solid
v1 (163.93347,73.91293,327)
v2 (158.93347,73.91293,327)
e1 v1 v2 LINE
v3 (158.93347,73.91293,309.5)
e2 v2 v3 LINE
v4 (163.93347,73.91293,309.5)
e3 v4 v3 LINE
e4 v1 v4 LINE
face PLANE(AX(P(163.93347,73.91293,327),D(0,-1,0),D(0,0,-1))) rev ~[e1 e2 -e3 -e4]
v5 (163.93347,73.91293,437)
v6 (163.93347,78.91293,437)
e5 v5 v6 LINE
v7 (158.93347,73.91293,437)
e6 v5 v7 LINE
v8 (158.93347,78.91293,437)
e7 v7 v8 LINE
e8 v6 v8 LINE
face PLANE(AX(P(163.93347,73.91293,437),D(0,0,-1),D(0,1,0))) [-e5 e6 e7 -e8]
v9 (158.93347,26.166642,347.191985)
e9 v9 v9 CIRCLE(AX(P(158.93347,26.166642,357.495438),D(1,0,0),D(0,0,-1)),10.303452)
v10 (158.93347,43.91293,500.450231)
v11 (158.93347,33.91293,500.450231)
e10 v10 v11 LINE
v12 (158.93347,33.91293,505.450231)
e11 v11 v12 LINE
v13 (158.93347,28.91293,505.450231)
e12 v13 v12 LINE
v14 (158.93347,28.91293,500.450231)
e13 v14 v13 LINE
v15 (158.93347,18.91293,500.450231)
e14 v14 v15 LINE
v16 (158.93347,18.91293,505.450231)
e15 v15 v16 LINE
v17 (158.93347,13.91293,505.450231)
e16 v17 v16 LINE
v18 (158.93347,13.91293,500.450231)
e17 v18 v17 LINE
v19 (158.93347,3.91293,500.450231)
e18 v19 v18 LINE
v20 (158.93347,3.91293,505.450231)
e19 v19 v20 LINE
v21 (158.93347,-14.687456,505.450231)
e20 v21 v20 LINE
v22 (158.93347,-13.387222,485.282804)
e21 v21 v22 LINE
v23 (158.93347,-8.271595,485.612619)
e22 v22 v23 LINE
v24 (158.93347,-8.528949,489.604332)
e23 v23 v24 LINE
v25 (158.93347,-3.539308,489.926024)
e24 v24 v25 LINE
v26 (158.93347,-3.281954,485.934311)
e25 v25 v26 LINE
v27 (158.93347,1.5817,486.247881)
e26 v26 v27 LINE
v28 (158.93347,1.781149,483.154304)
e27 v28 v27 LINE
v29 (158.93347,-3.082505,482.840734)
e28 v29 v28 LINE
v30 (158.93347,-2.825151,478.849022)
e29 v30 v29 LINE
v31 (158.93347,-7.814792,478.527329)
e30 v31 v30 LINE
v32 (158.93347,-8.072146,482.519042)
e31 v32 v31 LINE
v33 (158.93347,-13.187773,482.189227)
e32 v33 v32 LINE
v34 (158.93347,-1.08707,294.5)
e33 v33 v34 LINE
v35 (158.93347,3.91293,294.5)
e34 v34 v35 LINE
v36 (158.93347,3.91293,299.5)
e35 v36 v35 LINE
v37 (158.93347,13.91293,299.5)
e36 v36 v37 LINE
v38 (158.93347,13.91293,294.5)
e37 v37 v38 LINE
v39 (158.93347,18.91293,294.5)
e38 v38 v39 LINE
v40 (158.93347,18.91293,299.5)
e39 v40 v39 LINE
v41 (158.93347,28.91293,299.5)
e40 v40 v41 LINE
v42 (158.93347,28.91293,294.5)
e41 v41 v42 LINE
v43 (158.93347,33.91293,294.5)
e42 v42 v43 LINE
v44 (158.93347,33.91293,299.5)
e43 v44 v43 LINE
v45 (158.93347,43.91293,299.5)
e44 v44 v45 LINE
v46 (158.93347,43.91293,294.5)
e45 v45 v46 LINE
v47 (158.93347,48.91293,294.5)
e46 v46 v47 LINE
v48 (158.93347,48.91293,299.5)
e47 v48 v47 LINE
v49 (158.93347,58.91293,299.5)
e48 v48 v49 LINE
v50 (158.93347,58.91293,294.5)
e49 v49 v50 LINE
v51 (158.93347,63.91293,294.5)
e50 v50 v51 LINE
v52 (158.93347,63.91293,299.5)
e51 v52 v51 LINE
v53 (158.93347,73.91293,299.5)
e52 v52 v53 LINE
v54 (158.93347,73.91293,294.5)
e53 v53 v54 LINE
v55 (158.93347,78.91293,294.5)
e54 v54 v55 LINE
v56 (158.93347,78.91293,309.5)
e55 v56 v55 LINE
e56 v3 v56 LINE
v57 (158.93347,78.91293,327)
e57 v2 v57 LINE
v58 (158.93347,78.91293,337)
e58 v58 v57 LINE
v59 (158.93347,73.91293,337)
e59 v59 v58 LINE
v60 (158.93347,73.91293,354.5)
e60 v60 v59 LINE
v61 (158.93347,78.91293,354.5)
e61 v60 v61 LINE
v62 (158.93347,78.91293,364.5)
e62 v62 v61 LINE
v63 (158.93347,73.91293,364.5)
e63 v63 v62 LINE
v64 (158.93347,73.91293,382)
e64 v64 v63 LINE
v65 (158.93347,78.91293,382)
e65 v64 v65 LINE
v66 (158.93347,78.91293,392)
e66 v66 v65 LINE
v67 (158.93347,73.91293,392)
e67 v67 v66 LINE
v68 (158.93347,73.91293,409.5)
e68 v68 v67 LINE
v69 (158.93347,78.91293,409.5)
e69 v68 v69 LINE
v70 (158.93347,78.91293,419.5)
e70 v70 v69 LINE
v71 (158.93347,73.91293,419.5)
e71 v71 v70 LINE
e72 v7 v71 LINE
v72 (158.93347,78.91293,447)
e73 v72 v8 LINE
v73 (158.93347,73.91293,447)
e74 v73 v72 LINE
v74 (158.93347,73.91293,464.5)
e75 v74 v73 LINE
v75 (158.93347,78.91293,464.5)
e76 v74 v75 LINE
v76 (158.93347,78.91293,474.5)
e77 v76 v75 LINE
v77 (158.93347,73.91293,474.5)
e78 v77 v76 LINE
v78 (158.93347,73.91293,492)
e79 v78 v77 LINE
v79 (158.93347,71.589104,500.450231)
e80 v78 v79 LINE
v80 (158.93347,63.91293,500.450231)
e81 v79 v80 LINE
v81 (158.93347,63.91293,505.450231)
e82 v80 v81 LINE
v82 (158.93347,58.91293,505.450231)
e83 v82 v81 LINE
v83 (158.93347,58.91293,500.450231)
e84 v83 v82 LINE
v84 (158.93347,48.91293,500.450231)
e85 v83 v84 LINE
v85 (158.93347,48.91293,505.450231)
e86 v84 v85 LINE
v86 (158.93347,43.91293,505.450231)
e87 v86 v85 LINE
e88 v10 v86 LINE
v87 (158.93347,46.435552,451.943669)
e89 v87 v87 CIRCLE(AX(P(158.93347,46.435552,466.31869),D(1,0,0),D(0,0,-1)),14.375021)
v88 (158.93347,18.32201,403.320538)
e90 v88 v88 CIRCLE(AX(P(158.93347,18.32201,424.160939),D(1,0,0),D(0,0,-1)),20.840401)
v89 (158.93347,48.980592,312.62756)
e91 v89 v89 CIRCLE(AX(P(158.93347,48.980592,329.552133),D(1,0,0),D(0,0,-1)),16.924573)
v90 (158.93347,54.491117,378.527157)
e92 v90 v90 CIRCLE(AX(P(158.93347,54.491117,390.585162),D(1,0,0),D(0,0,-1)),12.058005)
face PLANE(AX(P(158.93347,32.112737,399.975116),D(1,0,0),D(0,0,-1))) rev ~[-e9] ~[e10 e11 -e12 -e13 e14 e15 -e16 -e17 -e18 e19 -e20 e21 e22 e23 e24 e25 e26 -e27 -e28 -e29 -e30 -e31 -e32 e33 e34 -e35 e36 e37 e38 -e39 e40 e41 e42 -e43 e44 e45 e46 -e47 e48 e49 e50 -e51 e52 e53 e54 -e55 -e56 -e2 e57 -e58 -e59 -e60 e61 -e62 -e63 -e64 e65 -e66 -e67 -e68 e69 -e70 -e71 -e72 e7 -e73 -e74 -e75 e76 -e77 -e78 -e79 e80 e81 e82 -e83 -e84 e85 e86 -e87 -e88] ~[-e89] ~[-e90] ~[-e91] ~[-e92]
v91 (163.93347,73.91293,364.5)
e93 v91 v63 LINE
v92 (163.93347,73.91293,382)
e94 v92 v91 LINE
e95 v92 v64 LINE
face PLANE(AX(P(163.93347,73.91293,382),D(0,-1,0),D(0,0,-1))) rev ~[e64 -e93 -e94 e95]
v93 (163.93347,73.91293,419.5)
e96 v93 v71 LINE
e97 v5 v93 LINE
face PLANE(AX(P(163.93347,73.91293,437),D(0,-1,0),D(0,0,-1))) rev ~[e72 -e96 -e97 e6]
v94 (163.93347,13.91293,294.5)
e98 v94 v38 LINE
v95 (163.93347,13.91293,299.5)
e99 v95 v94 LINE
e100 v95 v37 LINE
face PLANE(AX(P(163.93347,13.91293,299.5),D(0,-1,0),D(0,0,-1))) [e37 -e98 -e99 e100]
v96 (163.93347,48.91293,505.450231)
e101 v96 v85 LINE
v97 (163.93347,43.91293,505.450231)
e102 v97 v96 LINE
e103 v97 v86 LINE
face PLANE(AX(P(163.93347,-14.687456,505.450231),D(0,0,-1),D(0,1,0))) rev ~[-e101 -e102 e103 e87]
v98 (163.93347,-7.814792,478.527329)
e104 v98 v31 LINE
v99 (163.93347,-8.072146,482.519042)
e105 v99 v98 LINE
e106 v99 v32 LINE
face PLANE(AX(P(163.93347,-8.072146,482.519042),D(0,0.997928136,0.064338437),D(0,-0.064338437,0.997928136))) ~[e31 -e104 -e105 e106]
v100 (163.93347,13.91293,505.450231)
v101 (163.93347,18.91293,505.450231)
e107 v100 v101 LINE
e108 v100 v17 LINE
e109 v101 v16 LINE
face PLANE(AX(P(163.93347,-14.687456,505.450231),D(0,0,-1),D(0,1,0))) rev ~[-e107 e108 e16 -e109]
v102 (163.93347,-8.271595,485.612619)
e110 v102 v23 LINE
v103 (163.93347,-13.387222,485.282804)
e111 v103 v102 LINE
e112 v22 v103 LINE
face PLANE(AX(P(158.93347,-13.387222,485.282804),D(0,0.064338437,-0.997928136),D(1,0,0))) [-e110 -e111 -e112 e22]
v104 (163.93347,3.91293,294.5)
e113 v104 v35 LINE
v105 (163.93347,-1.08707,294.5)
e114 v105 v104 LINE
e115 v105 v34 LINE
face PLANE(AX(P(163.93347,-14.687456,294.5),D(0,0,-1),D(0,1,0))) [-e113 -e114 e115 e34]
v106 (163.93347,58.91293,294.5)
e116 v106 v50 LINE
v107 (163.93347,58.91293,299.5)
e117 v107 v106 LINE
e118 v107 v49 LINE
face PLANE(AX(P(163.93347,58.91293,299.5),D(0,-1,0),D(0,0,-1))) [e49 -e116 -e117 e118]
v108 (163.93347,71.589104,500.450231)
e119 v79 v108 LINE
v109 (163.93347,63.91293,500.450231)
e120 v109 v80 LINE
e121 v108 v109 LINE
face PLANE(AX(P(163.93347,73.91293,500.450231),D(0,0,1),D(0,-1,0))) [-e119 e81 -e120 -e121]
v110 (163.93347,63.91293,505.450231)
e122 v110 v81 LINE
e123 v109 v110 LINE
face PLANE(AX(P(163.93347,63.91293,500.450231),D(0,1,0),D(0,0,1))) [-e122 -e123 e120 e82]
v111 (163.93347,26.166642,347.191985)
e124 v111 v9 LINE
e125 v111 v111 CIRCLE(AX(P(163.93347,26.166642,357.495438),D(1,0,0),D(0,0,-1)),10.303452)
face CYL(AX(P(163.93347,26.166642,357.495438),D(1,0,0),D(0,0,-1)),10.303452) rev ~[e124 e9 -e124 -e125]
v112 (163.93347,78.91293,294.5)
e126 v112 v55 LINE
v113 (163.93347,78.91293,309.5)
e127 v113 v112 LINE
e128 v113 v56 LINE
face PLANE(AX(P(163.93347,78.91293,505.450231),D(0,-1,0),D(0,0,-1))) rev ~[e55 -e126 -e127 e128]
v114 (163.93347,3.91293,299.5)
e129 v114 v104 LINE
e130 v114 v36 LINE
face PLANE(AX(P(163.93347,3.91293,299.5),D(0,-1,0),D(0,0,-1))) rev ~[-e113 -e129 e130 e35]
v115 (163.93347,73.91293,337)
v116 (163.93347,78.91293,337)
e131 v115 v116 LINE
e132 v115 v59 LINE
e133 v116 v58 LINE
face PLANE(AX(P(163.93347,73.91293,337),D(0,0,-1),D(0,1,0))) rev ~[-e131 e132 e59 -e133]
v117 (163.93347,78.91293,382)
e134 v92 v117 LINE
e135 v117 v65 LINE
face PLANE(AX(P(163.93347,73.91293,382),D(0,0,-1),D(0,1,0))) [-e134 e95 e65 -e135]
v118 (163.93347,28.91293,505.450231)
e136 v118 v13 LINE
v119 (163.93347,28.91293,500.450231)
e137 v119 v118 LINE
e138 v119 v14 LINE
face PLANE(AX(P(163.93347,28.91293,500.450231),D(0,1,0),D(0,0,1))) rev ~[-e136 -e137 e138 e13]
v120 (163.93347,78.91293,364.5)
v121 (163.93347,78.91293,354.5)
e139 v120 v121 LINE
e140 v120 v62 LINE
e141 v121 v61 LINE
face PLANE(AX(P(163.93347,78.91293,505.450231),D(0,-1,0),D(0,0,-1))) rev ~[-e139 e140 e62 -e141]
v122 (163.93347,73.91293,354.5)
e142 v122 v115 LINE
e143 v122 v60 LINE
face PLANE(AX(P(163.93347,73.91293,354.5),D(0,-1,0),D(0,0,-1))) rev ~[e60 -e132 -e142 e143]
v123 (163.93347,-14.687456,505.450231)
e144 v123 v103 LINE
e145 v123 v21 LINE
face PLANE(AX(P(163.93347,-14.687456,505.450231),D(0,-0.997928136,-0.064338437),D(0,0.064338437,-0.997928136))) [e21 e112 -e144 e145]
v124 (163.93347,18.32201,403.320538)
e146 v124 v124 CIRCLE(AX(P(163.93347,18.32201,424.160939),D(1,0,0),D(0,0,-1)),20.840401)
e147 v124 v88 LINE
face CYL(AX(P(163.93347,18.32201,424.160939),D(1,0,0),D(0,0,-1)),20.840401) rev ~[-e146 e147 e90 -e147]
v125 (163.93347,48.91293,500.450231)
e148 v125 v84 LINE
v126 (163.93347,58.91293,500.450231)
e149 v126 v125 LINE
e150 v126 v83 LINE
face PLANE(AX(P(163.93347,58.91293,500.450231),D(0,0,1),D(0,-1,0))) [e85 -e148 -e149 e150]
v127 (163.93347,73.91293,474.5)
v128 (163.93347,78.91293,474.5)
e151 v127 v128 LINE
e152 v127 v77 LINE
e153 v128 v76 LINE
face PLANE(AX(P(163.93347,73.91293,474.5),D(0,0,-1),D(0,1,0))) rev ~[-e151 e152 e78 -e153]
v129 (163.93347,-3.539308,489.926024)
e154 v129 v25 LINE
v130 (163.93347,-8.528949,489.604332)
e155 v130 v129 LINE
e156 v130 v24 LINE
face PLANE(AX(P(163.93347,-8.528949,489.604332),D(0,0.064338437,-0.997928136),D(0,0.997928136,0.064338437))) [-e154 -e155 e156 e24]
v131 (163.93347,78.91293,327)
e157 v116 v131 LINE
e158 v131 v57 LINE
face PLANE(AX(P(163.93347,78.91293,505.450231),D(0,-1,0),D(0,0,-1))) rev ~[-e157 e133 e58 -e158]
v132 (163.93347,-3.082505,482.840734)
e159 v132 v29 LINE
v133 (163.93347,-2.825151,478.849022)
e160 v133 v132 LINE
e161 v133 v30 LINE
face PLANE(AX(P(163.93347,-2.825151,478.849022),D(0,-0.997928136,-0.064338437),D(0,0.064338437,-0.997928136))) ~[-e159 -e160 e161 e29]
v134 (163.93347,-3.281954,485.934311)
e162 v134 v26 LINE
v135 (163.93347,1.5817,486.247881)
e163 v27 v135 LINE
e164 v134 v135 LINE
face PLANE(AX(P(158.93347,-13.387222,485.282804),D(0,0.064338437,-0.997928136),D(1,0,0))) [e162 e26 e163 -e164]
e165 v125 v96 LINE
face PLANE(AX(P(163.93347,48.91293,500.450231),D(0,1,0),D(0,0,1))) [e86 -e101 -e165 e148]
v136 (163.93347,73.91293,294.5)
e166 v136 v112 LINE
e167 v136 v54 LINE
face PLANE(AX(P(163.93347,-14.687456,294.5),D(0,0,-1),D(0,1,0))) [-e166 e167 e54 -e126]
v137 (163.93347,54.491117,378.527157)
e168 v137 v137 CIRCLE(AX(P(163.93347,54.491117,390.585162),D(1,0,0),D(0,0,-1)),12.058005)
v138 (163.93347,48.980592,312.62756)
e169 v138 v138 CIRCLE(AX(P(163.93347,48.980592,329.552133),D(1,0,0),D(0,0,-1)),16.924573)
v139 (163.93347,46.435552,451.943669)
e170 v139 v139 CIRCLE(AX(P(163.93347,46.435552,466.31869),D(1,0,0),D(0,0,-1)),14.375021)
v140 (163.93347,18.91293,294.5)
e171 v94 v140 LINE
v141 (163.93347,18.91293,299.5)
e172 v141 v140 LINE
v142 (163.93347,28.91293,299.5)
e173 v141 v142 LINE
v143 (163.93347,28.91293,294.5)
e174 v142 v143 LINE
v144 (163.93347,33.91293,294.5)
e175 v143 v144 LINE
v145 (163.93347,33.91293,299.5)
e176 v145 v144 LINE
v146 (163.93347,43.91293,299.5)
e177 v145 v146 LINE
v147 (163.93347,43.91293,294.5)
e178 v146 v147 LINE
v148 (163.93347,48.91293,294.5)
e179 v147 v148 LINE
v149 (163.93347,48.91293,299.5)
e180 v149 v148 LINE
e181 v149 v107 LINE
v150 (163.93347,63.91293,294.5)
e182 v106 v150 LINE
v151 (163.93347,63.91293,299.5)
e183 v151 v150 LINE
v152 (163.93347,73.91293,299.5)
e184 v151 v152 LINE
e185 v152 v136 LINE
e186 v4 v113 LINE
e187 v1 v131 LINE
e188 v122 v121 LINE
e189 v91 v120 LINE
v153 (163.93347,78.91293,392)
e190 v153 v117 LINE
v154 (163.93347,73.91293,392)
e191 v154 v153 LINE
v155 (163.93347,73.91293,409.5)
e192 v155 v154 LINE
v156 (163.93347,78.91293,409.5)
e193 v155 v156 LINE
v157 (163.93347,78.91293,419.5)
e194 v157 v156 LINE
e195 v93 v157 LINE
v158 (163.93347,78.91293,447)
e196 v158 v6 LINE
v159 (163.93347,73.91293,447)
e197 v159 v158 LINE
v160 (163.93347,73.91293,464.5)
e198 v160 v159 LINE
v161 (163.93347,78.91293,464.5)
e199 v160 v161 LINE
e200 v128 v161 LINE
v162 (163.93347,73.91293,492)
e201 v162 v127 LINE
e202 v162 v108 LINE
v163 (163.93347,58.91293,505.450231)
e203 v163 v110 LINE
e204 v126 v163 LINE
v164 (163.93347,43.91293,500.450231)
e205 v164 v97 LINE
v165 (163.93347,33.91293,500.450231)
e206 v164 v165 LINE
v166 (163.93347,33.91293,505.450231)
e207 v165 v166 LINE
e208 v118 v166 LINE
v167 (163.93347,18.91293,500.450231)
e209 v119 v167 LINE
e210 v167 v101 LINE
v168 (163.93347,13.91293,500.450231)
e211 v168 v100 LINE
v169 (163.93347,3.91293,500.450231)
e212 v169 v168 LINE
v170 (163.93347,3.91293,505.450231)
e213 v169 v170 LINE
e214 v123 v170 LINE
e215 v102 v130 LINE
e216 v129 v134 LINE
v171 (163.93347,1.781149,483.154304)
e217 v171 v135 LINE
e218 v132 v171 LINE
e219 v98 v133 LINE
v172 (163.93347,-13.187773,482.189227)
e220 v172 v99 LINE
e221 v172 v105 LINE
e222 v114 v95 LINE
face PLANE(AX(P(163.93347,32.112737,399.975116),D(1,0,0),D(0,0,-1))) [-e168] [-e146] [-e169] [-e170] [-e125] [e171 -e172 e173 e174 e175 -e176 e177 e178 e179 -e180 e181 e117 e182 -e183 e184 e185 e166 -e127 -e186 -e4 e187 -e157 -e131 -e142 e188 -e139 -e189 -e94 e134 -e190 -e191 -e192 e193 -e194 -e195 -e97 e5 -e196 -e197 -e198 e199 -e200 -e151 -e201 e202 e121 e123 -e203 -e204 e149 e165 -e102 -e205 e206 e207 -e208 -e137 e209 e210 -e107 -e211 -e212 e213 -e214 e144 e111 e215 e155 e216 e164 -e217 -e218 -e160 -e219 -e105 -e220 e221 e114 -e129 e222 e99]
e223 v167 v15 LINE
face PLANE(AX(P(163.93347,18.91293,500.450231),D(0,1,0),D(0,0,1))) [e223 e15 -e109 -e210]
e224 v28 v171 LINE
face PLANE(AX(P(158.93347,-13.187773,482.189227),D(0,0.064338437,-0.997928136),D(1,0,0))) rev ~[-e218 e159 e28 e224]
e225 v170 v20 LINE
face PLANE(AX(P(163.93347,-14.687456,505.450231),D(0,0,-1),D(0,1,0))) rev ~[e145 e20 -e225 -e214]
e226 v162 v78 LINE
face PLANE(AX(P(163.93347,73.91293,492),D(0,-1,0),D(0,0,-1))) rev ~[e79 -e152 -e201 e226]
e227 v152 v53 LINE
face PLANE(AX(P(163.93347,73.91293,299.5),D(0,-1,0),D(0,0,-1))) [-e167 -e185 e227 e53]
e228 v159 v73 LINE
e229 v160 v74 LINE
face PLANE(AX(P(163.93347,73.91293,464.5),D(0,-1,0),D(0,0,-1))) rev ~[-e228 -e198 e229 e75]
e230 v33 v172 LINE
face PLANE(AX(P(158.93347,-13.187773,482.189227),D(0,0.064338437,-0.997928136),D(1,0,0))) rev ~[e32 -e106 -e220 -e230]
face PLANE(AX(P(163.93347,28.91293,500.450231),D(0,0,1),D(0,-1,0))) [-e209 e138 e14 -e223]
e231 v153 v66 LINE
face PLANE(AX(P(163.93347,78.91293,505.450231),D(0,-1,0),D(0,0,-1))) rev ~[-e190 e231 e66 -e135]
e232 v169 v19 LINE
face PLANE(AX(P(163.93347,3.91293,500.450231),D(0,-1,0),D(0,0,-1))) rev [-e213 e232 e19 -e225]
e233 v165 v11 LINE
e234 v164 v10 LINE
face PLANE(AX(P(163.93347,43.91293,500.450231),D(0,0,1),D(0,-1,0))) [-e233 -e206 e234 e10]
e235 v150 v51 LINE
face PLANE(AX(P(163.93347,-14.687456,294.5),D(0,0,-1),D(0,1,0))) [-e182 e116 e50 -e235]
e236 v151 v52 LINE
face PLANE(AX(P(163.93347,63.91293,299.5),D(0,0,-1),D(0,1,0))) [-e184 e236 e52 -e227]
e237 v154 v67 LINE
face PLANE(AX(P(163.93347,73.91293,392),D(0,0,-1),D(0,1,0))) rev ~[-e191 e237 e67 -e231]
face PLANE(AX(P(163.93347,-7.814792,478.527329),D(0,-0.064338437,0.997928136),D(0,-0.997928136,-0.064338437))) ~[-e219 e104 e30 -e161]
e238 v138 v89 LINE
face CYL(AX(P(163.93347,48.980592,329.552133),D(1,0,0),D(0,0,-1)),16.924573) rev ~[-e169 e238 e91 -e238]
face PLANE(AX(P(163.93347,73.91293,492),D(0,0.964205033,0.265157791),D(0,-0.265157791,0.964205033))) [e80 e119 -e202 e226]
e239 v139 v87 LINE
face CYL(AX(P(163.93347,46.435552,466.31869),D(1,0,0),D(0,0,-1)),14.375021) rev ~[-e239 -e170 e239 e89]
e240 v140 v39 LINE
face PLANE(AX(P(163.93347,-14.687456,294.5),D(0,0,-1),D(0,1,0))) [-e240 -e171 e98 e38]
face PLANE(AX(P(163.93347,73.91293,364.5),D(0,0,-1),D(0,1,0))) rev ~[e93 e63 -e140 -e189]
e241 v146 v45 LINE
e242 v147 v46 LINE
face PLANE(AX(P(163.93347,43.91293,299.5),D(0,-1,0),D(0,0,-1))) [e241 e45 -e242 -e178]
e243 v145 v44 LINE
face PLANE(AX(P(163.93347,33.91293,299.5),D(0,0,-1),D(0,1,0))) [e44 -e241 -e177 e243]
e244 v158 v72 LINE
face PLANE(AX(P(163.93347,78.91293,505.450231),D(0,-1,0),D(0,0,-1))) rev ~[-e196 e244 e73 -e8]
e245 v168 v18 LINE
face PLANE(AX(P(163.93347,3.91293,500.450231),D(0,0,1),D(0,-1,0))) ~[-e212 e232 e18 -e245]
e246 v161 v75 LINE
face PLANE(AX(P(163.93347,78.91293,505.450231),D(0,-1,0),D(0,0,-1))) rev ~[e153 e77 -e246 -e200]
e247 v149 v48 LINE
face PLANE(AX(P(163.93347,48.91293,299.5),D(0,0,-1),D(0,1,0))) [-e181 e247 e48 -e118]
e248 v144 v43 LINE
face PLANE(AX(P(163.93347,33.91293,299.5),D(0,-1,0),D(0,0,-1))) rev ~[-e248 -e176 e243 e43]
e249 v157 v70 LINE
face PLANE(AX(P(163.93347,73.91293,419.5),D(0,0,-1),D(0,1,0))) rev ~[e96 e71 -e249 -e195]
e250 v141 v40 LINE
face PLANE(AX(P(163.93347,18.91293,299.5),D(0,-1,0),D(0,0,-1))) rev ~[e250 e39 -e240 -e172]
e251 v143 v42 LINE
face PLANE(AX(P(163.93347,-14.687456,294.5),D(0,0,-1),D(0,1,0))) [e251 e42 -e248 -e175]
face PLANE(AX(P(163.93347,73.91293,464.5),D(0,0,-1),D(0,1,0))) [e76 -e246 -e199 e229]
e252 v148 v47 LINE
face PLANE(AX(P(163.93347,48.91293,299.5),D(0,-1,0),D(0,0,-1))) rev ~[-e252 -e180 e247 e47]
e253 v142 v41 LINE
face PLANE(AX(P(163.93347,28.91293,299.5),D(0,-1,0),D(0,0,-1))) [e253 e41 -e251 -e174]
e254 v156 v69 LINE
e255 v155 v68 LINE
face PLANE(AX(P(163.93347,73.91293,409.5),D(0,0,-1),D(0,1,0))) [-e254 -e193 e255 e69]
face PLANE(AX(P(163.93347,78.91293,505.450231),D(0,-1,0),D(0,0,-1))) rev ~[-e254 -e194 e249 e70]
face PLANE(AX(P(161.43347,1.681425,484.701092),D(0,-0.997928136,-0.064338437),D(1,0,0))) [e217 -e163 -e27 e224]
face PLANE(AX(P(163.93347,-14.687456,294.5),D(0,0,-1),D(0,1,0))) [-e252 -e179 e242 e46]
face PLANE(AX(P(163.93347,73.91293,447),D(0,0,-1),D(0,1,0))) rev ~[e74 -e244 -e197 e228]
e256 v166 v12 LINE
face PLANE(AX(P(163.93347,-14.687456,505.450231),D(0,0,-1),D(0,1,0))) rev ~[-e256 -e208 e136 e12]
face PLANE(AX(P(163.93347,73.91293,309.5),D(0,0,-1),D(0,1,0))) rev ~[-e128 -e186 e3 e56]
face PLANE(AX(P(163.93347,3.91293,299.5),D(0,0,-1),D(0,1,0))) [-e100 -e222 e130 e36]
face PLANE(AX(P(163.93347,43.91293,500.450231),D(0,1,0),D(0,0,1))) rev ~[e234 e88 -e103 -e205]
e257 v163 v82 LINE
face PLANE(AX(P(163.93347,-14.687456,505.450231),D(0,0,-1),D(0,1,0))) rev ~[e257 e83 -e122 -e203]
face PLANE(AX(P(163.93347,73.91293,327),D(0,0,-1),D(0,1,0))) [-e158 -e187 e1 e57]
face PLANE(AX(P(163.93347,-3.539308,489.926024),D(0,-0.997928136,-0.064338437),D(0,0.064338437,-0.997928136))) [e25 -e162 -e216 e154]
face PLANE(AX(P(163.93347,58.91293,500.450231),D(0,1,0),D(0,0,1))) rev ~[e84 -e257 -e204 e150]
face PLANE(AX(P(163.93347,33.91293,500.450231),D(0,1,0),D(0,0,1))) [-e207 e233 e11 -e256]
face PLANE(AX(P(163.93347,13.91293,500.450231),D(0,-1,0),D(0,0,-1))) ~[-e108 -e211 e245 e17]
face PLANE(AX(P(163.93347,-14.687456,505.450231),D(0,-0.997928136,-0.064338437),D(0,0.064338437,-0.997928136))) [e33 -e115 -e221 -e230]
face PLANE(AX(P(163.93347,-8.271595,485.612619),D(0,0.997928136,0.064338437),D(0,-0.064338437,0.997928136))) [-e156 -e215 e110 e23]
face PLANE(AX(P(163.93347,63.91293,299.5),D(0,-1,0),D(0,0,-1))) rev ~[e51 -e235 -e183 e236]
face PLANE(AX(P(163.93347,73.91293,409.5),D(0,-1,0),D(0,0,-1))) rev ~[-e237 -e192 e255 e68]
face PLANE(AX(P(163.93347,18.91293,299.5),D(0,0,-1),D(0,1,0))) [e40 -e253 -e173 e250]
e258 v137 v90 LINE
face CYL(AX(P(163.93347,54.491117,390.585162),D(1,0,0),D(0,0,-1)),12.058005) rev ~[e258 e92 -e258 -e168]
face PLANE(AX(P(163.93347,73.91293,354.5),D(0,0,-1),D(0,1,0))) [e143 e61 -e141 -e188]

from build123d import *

# Parameters (mm, degrees)
ESQUISSE1_W                = 210.950231097
ESQUISSE1_H                = 93.600386247
BOSS_EXTRU_1_DEPTH         = 5
ENL_V_MAT_EXTRU_1_DEPTH    = 5
ESQUISSE4_W                = 5
ESQUISSE4_H                = 10
ENL_V_MAT_EXTRU_2_DEPTH    = 5
R_P_TITION_LIN_AIRE1_COUNT = 5
R_P_TITION_LIN_AIRE1_PITCH = 15
ESQUISSE5_W                = 17.5
ESQUISSE5_H                = 5
ENL_V_MAT_EXTRU_3_DEPTH    = 5
R_P_TITION_LIN_AIRE2_COUNT = 7
R_P_TITION_LIN_AIRE2_PITCH = 27.5
ENL_V_MAT_EXTRU_4_DEPTH    = 5
ESQUISSE8_R                = 10.303452194
ESQUISSE8_R_2              = 16.92457318
ESQUISSE8_R_3              = 12.058004818
ESQUISSE8_R_4              = 20.840400714
ESQUISSE8_R_5              = 14.375020811
ENL_V_MAT_EXTRU_5_DEPTH    = 5
SYM_TRIE1_COPY_1_SKETCH_W  = 5
SYM_TRIE1_COPY_1_SKETCH_H  = 10
SYM_TRIE1_COPY_1_DEPTH     = 5
SYM_TRIE1_COPY_2_SKETCH_W  = 5
SYM_TRIE1_COPY_2_SKETCH_H  = 10
SYM_TRIE1_COPY_2_DEPTH     = 5
SYM_TRIE1_COPY_3_SKETCH_W  = 5
SYM_TRIE1_COPY_3_SKETCH_H  = 10
SYM_TRIE1_COPY_3_DEPTH     = 5
SYM_TRIE1_COPY_4_SKETCH_W  = 5
SYM_TRIE1_COPY_4_SKETCH_H  = 10
SYM_TRIE1_COPY_4_DEPTH     = 5
SYM_TRIE1_COPY_5_SKETCH_W  = 5
SYM_TRIE1_COPY_5_SKETCH_H  = 10
SYM_TRIE1_COPY_5_DEPTH     = 5
ESQUISSE9_W                = 5
ESQUISSE9_H                = 3.1
ENL_V_MAT_EXTRU_6_DEPTH    = 15
ENL_V_MAT_EXTRU_7_DEPTH    = 15


with BuildPart() as part:
    # Esquisse1 → Boss.-Extru.1 (new body)
    with BuildSketch(Plane(origin=(163.933470491, 0, 0), x_dir=(0, 0, -1), z_dir=(1, 0, 0))):
        with Locations((-399.975115549, 32.112736727)):
            Rectangle(ESQUISSE1_W, ESQUISSE1_H)
    extrude(amount=-BOSS_EXTRU_1_DEPTH)

    # Esquisse3 → Enlèv. mat.-Extru.1 (cut)
    with BuildSketch(Plane(origin=(163.933470491, 0, 0), x_dir=(0, 0, -1), z_dir=(1, 0, 0))):
        Polygon((-505.450231097, -14.687456397), (-294.5, -1.08707015), (-294.5, -1.14043518), (-294.5, -14.687456397), align=None)
    extrude(amount=-ENL_V_MAT_EXTRU_1_DEPTH, mode=Mode.SUBTRACT)

    # Esquisse4 → Enlèv. mat.-Extru.2 (cut)
    with BuildSketch(Plane(origin=(163.933470491, 0, 0), x_dir=(0, 0, -1), z_dir=(1, 0, 0))):
        with Locations((-297, 8.91292985)):
            Rectangle(ESQUISSE4_W, ESQUISSE4_H)
    enl_v_mat_extru_2 = extrude(amount=-ENL_V_MAT_EXTRU_2_DEPTH, mode=Mode.SUBTRACT)

    # Répétition linéaire1: Enlèv. mat.-Extru.2 ×5
    with Locations(*[(0, i * R_P_TITION_LIN_AIRE1_PITCH, 0) for i in range(1, R_P_TITION_LIN_AIRE1_COUNT)]):
        add(enl_v_mat_extru_2, mode=Mode.SUBTRACT)

    # Esquisse5 → Enlèv. mat.-Extru.3 (cut)
    with BuildSketch(Plane(origin=(163.933470491, 0, 0), x_dir=(0, 0, -1), z_dir=(1, 0, 0))):
        with Locations((-318.25, 76.41292985)):
            Rectangle(ESQUISSE5_W, ESQUISSE5_H)
    enl_v_mat_extru_3 = extrude(amount=-ENL_V_MAT_EXTRU_3_DEPTH, mode=Mode.SUBTRACT)

    # Répétition linéaire2: Enlèv. mat.-Extru.3 ×7
    with Locations(*[(0, 0, i * R_P_TITION_LIN_AIRE2_PITCH) for i in range(1, R_P_TITION_LIN_AIRE2_COUNT)]):
        add(enl_v_mat_extru_3, mode=Mode.SUBTRACT)

    # Esquisse6 → Enlèv. mat.-Extru.4 (cut)
    with BuildSketch(Plane(origin=(163.933470491, 0, 0), x_dir=(0, 0, -1), z_dir=(1, 0, 0))):
        Polygon((-492, 73.91292985), (-505.450231097, 70.214096677), (-505.450231097, 78.91292985), (-492, 78.91292985), align=None)
    extrude(amount=-ENL_V_MAT_EXTRU_4_DEPTH, mode=Mode.SUBTRACT)

    # Esquisse8 → Enlèv. mat.-Extru.5 (cut)
    with BuildSketch(Plane(origin=(163.933470491, 0, 0), x_dir=(0, 0, -1), z_dir=(1, 0, 0))):
        with Locations((-357.495437595, 26.166642192)):
            Circle(ESQUISSE8_R)
        with Locations((-329.552133235, 48.980591934)):
            Circle(ESQUISSE8_R_2)
        with Locations((-390.585162306, 54.491117128)):
            Circle(ESQUISSE8_R_3)
        with Locations((-424.160939117, 18.322009653)):
            Circle(ESQUISSE8_R_4)
        with Locations((-466.318690215, 46.435552099)):
            Circle(ESQUISSE8_R_5)
    extrude(amount=-ENL_V_MAT_EXTRU_5_DEPTH, mode=Mode.SUBTRACT)

    # Symétrie1 copy 1 sketch → Symétrie1 copy 1 (cut)
    with BuildSketch(Plane(origin=(163.933470491, 15, 799.950231097), x_dir=(0, 0, 1), z_dir=(1, 0, 0))):
        with Locations((-297, -8.91292985)):
            Rectangle(SYM_TRIE1_COPY_1_SKETCH_W, SYM_TRIE1_COPY_1_SKETCH_H)
    extrude(amount=-SYM_TRIE1_COPY_1_DEPTH, mode=Mode.SUBTRACT)

    # Symétrie1 copy 2 sketch → Symétrie1 copy 2 (cut)
    with BuildSketch(Plane(origin=(163.933470491, 30, 799.950231097), x_dir=(0, 0, 1), z_dir=(1, 0, 0))):
        with Locations((-297, -8.91292985)):
            Rectangle(SYM_TRIE1_COPY_2_SKETCH_W, SYM_TRIE1_COPY_2_SKETCH_H)
    extrude(amount=-SYM_TRIE1_COPY_2_DEPTH, mode=Mode.SUBTRACT)

    # Symétrie1 copy 3 sketch → Symétrie1 copy 3 (cut)
    with BuildSketch(Plane(origin=(163.933470491, 45, 799.950231097), x_dir=(0, 0, 1), z_dir=(1, 0, 0))):
        with Locations((-297, -8.91292985)):
            Rectangle(SYM_TRIE1_COPY_3_SKETCH_W, SYM_TRIE1_COPY_3_SKETCH_H)
    extrude(amount=-SYM_TRIE1_COPY_3_DEPTH, mode=Mode.SUBTRACT)

    # Symétrie1 copy 4 sketch → Symétrie1 copy 4 (cut)
    with BuildSketch(Plane(origin=(163.933470491, 60, 799.950231097), x_dir=(0, 0, 1), z_dir=(1, 0, 0))):
        with Locations((-297, -8.91292985)):
            Rectangle(SYM_TRIE1_COPY_4_SKETCH_W, SYM_TRIE1_COPY_4_SKETCH_H)
    extrude(amount=-SYM_TRIE1_COPY_4_DEPTH, mode=Mode.SUBTRACT)

    # Symétrie1 copy 5 sketch → Symétrie1 copy 5 (cut)
    with BuildSketch(Plane(origin=(163.933470491, 0, 799.950231097), x_dir=(0, 0, 1), z_dir=(1, 0, 0))):
        with Locations((-297, -8.91292985)):
            Rectangle(SYM_TRIE1_COPY_5_SKETCH_W, SYM_TRIE1_COPY_5_SKETCH_H)
    extrude(amount=-SYM_TRIE1_COPY_5_DEPTH, mode=Mode.SUBTRACT)

    # Esquisse9 → Enlèv. mat.-Extru.6 (cut)
    with BuildSketch(Plane(origin=(0, 17.825842347, 1.149267957), x_dir=(1, 0, 0), z_dir=(0, -0.9979281364682809, -0.06433843676173626))):
        with Locations((161.433470491, 483.588677553)):
            Rectangle(ESQUISSE9_W, ESQUISSE9_H)
    extrude(amount=-ENL_V_MAT_EXTRU_6_DEPTH, mode=Mode.SUBTRACT)

    # Esquisse10 → Enlèv. mat.-Extru.7 (cut)
    with BuildSketch(Plane(origin=(163.933470491, 0, 0), x_dir=(0, 0, -1), z_dir=(1, 0, 0))):
        Polygon((-485.612619151, -8.271594794), (-489.604331697, -8.528948541), (-489.926023881, -3.539307858), (-485.934311335, -3.281954111), align=None)
    enl_v_mat_extru_7 = extrude(amount=-ENL_V_MAT_EXTRU_7_DEPTH, mode=Mode.SUBTRACT)

    # Symétrie2: Enlèv. mat.-Extru.7 across plane
    add(enl_v_mat_extru_7.mirror(Plane(origin=(0, -31.113339549, 482.586747808), x_dir=(1, 0, 0), z_dir=(0, 0.06433843676173628, -0.997928136468281))), mode=Mode.SUBTRACT)


solid = part.part
